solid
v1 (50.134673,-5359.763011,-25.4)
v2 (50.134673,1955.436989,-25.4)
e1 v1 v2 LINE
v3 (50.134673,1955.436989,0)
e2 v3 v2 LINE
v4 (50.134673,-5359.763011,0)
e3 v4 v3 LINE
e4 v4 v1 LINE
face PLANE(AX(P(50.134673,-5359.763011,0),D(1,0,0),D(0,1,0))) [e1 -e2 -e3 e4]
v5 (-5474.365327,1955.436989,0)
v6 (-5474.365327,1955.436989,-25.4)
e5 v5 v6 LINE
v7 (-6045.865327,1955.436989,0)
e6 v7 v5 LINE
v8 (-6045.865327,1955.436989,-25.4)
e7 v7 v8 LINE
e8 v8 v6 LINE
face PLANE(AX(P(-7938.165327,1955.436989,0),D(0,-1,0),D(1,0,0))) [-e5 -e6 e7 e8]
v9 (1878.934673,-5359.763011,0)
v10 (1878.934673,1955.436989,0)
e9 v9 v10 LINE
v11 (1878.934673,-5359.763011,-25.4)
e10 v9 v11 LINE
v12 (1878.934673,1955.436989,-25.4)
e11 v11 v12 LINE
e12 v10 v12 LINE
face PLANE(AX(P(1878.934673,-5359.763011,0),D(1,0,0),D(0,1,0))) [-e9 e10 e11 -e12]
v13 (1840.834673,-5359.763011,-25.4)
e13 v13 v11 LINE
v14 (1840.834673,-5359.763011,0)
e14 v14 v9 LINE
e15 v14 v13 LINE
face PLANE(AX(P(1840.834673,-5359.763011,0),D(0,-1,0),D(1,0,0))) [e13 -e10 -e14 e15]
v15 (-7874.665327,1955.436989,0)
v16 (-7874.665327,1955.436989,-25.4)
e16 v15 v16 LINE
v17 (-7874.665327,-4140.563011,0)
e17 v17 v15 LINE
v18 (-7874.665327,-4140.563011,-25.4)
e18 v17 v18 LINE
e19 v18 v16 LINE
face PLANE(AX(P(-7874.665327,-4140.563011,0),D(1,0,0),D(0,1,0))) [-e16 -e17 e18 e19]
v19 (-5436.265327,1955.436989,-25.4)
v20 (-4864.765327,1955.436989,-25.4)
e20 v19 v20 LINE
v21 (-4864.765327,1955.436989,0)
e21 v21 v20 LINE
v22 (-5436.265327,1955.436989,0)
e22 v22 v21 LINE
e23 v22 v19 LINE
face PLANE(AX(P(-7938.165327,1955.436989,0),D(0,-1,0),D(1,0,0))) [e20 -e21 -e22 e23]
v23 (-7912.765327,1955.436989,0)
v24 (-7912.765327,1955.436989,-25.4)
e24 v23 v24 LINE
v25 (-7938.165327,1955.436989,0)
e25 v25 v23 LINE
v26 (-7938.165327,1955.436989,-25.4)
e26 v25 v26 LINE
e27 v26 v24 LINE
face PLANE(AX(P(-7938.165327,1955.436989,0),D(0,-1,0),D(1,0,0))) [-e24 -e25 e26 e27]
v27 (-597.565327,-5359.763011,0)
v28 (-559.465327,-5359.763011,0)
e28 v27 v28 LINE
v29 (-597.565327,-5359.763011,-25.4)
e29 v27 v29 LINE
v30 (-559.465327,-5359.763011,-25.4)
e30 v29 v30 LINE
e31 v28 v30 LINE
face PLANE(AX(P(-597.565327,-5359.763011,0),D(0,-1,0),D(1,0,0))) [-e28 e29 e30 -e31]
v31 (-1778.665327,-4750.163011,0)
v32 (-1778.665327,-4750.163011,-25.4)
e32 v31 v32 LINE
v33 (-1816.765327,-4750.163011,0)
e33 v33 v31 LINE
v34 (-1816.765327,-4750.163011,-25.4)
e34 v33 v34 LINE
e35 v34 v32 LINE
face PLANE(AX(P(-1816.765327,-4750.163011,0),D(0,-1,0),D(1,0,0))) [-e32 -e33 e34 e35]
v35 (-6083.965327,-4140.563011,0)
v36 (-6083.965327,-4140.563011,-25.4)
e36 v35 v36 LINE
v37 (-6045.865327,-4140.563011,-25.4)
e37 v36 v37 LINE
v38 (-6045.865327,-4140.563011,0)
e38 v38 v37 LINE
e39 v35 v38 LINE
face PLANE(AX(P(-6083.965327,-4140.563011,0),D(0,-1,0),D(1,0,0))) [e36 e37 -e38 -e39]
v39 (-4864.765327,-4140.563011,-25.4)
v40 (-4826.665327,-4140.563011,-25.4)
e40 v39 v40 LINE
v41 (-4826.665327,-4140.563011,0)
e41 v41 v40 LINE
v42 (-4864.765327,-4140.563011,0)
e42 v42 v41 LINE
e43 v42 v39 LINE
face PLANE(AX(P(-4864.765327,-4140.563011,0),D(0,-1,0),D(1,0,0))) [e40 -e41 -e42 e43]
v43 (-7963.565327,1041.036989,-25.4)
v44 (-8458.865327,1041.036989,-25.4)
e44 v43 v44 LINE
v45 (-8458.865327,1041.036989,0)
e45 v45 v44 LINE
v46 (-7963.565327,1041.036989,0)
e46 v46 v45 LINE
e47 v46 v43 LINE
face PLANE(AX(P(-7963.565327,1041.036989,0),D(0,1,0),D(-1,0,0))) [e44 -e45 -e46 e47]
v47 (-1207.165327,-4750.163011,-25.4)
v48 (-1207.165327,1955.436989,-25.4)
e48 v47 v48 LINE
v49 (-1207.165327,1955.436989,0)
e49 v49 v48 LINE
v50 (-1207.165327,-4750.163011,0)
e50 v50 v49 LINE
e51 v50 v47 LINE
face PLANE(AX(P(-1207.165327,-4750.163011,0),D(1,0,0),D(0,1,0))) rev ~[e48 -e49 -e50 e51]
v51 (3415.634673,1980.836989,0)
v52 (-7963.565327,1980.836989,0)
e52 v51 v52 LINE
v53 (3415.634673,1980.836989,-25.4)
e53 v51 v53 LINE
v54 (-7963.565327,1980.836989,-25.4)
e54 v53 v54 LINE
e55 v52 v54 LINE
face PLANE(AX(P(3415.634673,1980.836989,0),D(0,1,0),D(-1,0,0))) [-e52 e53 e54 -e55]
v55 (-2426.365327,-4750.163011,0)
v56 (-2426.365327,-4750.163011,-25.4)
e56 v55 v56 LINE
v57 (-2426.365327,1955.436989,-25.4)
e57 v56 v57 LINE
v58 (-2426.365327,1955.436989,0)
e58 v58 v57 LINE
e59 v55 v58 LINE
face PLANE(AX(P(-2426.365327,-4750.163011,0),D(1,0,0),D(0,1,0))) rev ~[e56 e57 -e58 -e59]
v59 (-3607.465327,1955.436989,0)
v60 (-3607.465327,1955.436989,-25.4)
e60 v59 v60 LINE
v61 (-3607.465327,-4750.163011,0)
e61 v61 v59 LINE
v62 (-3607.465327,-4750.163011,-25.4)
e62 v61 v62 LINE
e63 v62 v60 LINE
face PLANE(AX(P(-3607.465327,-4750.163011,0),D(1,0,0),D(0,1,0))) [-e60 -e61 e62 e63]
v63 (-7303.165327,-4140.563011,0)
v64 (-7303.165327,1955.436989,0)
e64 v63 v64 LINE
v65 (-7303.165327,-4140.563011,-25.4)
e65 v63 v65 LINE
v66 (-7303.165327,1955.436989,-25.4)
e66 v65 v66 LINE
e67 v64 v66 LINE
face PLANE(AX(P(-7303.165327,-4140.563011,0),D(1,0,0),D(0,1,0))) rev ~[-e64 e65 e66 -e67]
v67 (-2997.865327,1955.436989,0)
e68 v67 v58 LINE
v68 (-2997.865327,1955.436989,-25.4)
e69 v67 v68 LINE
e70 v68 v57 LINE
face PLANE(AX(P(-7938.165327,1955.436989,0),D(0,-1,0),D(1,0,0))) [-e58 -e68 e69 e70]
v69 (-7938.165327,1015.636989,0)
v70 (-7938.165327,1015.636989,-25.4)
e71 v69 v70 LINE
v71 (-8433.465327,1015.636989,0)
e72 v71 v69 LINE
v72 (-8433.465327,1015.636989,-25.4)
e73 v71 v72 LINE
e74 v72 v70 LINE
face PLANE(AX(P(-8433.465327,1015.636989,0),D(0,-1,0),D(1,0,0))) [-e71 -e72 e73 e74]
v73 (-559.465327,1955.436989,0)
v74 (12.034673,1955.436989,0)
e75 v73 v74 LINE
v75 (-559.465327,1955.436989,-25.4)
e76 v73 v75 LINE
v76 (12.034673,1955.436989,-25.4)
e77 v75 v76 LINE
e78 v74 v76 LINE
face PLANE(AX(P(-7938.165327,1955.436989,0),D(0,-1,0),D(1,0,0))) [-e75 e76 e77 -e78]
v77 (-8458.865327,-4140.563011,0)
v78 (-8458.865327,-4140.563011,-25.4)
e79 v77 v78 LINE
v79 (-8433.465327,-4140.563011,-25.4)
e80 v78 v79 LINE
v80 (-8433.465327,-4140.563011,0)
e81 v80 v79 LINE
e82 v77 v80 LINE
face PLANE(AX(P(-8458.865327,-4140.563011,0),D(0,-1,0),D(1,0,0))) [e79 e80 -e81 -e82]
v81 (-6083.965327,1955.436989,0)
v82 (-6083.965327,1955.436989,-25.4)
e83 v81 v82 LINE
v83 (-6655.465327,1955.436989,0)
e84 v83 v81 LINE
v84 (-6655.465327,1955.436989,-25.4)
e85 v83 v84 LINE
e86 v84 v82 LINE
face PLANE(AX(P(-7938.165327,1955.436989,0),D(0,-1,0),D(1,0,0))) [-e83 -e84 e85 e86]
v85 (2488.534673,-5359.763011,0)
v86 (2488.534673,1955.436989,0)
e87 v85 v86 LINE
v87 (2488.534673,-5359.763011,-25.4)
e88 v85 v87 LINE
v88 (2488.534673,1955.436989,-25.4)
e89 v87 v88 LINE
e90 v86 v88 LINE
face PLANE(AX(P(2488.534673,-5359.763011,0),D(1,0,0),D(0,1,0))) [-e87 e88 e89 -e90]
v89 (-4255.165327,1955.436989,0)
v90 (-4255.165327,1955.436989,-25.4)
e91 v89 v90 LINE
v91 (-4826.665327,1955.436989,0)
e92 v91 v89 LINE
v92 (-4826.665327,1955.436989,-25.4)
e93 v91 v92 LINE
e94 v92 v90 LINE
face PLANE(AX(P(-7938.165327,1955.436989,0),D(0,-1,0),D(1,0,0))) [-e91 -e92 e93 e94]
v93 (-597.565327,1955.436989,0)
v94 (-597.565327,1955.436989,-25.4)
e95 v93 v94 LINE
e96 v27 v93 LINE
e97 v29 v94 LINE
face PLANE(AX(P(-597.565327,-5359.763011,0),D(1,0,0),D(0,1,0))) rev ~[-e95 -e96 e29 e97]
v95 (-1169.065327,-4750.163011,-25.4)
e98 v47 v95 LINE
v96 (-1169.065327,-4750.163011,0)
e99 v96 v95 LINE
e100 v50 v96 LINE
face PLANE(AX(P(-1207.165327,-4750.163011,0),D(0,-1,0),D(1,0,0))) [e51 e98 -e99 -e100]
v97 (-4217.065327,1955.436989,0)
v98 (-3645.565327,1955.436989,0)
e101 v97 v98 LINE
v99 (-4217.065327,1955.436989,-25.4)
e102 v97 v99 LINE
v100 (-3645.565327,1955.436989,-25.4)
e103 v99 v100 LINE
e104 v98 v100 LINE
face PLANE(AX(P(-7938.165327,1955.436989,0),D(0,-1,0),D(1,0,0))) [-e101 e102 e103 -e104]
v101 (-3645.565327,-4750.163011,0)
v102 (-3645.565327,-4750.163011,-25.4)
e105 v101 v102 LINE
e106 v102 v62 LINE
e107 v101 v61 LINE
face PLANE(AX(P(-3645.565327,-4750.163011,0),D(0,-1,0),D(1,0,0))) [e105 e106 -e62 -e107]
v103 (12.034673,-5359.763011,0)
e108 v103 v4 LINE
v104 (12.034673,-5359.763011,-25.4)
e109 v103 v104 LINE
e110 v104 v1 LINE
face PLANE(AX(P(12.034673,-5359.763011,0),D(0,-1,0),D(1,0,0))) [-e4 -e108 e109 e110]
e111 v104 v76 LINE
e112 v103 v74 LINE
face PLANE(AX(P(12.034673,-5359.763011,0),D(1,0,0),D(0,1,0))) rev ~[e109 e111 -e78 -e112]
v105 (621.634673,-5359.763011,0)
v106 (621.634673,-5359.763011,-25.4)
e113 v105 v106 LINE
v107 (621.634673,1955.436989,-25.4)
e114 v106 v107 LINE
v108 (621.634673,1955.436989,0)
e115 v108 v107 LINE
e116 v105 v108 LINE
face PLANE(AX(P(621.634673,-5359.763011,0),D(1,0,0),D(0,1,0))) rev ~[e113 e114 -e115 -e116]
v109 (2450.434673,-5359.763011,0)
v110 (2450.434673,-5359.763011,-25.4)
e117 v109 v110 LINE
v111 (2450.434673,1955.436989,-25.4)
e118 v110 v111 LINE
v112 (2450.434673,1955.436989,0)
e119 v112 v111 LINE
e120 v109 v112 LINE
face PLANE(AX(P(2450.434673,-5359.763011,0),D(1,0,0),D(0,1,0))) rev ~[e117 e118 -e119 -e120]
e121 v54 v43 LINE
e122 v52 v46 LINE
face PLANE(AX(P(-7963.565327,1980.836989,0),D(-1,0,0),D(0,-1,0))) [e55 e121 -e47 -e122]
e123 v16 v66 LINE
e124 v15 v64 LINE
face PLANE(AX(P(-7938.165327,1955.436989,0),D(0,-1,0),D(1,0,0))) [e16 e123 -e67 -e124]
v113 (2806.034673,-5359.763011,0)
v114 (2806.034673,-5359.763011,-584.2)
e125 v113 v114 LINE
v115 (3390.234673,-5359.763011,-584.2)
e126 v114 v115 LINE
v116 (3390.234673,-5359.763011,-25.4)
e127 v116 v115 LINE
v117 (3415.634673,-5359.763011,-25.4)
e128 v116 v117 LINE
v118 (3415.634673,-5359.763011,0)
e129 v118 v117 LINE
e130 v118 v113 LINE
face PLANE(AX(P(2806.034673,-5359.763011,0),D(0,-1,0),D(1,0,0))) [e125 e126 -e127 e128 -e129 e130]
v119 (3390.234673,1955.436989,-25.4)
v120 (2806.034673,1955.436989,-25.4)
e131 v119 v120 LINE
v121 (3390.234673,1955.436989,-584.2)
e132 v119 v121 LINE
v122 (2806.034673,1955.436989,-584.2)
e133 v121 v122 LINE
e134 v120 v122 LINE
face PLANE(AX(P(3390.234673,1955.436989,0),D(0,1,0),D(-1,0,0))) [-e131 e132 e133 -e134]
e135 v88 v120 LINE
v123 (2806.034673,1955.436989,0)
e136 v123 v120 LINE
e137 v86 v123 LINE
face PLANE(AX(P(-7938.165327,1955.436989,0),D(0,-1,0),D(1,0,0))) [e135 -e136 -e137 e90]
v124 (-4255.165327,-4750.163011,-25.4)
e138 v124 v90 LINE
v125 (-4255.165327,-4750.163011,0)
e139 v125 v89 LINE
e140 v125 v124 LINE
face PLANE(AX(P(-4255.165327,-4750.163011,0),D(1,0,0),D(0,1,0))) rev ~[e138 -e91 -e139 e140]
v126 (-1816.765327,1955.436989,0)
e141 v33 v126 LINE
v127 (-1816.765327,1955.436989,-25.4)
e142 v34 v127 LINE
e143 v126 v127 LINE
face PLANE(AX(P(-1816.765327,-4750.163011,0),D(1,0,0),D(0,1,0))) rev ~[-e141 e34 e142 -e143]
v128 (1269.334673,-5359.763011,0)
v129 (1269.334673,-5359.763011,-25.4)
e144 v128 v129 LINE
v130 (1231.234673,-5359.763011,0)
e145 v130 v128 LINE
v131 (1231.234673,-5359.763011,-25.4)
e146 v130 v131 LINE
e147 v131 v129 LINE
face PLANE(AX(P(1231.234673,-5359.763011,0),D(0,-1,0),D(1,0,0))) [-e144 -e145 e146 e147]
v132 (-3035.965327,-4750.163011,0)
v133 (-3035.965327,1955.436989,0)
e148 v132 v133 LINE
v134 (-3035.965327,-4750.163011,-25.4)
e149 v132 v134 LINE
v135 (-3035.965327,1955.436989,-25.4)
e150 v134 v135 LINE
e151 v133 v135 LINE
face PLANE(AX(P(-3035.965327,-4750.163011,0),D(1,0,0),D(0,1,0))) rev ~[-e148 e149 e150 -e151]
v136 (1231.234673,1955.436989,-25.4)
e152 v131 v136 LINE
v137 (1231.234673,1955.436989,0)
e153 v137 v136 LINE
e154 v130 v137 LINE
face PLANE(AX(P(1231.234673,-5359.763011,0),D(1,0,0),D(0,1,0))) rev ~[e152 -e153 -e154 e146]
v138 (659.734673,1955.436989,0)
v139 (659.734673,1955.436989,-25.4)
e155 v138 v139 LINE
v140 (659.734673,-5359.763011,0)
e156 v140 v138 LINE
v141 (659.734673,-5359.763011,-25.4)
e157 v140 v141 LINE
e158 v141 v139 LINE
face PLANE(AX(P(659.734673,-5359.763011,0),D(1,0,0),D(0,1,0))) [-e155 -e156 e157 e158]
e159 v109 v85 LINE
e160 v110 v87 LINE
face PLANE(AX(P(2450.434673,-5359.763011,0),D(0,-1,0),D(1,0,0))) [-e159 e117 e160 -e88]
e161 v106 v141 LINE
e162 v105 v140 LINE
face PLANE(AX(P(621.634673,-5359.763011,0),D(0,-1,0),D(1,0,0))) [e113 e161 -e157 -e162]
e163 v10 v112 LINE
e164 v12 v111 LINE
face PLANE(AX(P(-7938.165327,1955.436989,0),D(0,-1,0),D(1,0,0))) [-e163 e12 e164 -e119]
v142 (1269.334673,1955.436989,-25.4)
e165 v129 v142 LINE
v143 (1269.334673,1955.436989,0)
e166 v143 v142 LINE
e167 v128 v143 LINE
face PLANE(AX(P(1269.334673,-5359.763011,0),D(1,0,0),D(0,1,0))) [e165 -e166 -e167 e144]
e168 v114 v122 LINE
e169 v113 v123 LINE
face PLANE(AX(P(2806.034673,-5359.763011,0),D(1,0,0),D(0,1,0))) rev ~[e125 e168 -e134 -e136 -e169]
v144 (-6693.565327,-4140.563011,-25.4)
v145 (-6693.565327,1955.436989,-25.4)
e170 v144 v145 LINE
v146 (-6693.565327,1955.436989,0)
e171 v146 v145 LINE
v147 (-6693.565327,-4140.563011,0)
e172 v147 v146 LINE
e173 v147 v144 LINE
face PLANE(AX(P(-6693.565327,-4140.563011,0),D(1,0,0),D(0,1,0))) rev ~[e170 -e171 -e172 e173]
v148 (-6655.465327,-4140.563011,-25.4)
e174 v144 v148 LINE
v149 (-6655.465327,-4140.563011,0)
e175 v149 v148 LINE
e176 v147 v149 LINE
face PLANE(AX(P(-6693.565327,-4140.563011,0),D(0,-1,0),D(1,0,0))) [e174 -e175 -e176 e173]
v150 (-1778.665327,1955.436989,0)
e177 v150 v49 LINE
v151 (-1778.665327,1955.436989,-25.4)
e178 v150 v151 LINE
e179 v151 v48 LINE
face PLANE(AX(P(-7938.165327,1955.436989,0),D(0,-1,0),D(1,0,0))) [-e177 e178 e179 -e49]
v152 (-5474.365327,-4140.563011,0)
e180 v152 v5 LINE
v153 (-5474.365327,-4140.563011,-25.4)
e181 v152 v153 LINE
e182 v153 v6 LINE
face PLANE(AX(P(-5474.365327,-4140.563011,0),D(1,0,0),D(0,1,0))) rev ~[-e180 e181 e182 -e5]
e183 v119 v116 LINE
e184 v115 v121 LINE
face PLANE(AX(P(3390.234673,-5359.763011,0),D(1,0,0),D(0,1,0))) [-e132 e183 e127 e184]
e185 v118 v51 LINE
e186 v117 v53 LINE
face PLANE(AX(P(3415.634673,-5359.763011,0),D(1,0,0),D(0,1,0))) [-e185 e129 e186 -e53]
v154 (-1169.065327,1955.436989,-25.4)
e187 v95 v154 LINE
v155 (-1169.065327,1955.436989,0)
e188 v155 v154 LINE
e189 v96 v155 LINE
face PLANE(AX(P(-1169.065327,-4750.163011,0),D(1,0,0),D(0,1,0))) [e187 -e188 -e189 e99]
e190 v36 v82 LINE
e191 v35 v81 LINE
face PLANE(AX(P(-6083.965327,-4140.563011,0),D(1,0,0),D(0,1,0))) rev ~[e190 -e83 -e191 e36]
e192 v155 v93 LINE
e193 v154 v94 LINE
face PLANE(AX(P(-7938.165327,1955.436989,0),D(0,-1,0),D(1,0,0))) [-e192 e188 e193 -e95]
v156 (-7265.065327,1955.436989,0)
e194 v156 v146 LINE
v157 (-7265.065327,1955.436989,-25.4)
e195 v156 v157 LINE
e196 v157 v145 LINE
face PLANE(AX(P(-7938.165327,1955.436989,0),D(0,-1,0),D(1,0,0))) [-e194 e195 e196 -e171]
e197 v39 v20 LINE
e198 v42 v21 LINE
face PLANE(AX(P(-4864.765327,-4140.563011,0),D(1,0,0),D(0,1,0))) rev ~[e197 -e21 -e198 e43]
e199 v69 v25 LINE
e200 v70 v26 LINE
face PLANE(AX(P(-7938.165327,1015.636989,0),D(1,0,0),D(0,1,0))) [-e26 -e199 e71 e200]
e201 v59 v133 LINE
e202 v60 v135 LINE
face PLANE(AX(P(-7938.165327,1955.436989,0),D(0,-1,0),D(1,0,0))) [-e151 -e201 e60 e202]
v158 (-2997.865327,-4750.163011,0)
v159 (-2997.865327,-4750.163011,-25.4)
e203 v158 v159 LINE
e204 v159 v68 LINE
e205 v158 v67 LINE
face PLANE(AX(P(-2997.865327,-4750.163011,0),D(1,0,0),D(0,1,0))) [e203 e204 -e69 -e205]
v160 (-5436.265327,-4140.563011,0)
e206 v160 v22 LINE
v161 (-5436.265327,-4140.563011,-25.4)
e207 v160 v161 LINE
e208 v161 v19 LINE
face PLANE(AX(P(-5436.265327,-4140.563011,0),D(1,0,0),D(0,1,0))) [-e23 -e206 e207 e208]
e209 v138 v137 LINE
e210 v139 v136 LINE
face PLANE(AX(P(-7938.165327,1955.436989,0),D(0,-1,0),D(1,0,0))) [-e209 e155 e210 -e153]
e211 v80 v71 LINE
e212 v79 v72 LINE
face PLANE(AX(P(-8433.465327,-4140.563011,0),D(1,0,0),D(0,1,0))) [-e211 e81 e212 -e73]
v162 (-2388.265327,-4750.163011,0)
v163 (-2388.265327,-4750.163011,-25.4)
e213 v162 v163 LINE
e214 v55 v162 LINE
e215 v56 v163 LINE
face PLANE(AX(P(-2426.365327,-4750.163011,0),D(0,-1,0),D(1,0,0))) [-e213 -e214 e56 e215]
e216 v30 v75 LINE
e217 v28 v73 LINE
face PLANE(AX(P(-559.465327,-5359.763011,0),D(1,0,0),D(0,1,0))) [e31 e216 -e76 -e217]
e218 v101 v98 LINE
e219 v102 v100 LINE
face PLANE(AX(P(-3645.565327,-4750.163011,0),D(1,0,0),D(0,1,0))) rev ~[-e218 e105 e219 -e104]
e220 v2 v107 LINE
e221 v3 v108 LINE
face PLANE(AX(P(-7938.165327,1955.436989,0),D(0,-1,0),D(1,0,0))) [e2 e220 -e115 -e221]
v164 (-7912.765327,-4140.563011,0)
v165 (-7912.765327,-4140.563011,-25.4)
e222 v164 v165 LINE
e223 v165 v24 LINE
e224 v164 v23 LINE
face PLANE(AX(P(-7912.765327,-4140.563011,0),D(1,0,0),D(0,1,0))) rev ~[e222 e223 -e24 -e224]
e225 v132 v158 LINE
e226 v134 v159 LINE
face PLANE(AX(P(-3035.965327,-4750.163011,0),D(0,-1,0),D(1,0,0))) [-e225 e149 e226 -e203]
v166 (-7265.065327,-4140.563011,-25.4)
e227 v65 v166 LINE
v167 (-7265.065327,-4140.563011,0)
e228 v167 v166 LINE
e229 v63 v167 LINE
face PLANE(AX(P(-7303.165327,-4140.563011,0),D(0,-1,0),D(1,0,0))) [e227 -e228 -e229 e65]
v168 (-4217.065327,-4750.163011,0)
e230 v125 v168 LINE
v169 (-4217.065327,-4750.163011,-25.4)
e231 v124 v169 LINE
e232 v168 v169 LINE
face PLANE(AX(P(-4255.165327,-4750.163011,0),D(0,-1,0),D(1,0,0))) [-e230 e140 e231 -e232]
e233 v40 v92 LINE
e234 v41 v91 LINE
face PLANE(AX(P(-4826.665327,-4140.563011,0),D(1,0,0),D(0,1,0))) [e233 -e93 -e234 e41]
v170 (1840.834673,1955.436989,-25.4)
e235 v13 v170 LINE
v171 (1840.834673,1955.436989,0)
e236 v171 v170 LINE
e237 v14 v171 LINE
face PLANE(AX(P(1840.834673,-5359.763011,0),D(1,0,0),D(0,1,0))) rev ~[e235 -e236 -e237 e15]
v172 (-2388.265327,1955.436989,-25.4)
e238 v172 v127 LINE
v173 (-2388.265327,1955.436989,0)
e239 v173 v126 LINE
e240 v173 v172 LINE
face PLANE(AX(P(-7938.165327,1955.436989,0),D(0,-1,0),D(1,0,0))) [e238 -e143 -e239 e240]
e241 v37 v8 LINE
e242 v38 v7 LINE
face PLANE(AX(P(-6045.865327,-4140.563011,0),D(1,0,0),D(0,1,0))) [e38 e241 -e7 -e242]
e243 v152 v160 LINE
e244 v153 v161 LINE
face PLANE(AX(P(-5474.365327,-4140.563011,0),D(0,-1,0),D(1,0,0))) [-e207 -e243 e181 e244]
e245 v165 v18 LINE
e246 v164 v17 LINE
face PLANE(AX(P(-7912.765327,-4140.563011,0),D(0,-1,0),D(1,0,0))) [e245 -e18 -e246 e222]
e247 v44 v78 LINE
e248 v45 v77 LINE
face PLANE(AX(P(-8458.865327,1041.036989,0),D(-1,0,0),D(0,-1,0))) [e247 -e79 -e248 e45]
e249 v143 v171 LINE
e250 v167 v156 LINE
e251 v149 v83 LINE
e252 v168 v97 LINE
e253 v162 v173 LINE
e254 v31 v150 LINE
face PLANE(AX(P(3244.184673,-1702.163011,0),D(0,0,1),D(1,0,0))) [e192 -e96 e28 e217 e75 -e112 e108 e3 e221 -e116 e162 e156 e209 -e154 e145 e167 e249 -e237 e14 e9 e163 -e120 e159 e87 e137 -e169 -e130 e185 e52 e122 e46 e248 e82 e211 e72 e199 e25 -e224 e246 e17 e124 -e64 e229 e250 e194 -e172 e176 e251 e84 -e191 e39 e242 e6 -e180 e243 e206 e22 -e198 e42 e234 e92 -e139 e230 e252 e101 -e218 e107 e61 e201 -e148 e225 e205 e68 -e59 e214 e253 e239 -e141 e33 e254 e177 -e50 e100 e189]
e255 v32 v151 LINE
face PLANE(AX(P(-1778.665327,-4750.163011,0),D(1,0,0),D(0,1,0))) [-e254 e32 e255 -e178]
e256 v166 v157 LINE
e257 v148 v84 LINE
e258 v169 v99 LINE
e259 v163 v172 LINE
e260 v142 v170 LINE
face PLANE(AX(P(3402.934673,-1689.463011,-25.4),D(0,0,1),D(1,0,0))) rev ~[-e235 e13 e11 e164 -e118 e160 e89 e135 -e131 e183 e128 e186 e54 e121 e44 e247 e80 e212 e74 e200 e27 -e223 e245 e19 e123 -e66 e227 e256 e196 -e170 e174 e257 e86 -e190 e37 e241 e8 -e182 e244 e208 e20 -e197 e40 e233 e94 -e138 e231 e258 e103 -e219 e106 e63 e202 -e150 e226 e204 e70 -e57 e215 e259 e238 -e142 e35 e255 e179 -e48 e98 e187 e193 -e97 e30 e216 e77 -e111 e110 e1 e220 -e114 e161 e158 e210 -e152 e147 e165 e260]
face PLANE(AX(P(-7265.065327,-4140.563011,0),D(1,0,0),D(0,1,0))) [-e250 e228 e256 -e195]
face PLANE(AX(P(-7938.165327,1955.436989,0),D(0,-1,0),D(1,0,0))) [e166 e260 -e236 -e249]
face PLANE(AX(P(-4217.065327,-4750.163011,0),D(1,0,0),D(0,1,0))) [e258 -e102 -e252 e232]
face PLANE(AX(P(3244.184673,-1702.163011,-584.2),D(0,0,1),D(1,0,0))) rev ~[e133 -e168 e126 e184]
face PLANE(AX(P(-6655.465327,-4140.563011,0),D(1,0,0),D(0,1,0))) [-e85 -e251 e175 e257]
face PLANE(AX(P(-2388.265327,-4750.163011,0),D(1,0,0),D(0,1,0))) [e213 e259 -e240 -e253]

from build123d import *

# Parameters (mm, degrees)
F0_W     = 25.4
F0_H     = 914.4
F0_H_2   = 5156.2
F1_DEPTH = 25.4
F0_W_2   = 38.1
F0_H_3   = 6096
F0_H_4   = 6705.6
F0_H_5   = 7315.2
F2_DEPTH = 25.4
F0_W_3   = 292.1
F0_W_4   = 254
F3_DEPTH = 584.2


with BuildPart() as f1:
    # F0 (on Top) → F1 (new body)
    with BuildSketch(Plane.XY):
        Polygon((3415.6346725464, 1980.8369888306), (3390.2346725464, 1980.8369888306), (3390.2346725464, 1955.4369888306), (3390.2346725464, -5359.7630111694), (3415.6346725464, -5359.7630111694), align=None)
        Polygon((-7963.5653274536, 1955.4369888306), (-7938.1653274536, 1955.4369888306), (-7912.7653274536, 1955.4369888306), (-7874.6653274536, 1955.4369888306), (-7303.1653274536, 1955.4369888306), (-7265.0653274536, 1955.4369888306), (-6693.5653274536, 1955.4369888306), (-6655.4653274536, 1955.4369888306), (-6083.9653274536, 1955.4369888306), (-6045.8653274536, 1955.4369888306), (-5474.3653274536, 1955.4369888306), (-5436.2653274536, 1955.4369888306), (-4864.7653274536, 1955.4369888306), (-4826.6653274536, 1955.4369888306), (-4255.1653274536, 1955.4369888306), (-4217.0653274536, 1955.4369888306), (-3645.5653274536, 1955.4369888306), (-3607.4653274536, 1955.4369888306), (-3035.9653274536, 1955.4369888306), (-2997.8653274536, 1955.4369888306), (-2426.3653274536, 1955.4369888306), (-2388.2653274536, 1955.4369888306), (-1816.7653274536, 1955.4369888306), (-1778.6653274536, 1955.4369888306), (-1207.1653274536, 1955.4369888306), (-1169.0653274536, 1955.4369888306), (-597.5653274536, 1955.4369888306), (-559.4653274536, 1955.4369888306), (12.0346725464, 1955.4369888306), (50.1346725464, 1955.4369888306), (621.6346725464, 1955.4369888306), (659.7346725464, 1955.4369888306), (1231.2346725464, 1955.4369888306), (1269.3346725464, 1955.4369888306), (1840.8346725464, 1955.4369888306), (1878.9346725464, 1955.4369888306), (2450.4346725464, 1955.4369888306), (2488.5346725464, 1955.4369888306), (2806.0346725464, 1955.4369888306), (3060.0346725464, 1955.4369888306), (3098.1346725464, 1955.4369888306), (3390.2346725464, 1955.4369888306), (3390.2346725464, 1980.8369888306), (-7963.5653274536, 1980.8369888306), align=None)
        with Locations((-7950.8653274536, 1498.2369888306)):
            Rectangle(F0_W, F0_H)
        Polygon((-7938.1653274536, 1015.6369888306), (-7938.1653274536, 1041.0369888306), (-7963.5653274536, 1041.0369888306), (-8458.8653274536, 1041.0369888306), (-8458.8653274536, 1015.6369888306), (-8433.4653274536, 1015.6369888306), align=None)
        with Locations((-8446.1653274536, -1562.4630111694)):
            Rectangle(F0_W, F0_H_2)
    extrude(amount=-F1_DEPTH)

    # F0 (on Top) → F2 (join)
    with BuildSketch(Plane.XY):
        with Locations((-7284.1153274536, -1092.5630111694)):
            Rectangle(F0_W_2, F0_H_3)
        with Locations((-6674.5153274536, -1092.5630111694)):
            Rectangle(F0_W_2, F0_H_3)
        with Locations((-6064.9153274536, -1092.5630111694)):
            Rectangle(F0_W_2, F0_H_3)
        with Locations((-5455.3153274536, -1092.5630111694)):
            Rectangle(F0_W_2, F0_H_3)
        with Locations((-4845.7153274536, -1092.5630111694)):
            Rectangle(F0_W_2, F0_H_3)
        with Locations((-4236.1153274536, -1397.3630111694)):
            Rectangle(F0_W_2, F0_H_4)
        with Locations((-3626.5153274536, -1397.3630111694)):
            Rectangle(F0_W_2, F0_H_4)
        with Locations((-3016.9153274536, -1397.3630111694)):
            Rectangle(F0_W_2, F0_H_4)
        with Locations((-2407.3153274536, -1397.3630111694)):
            Rectangle(F0_W_2, F0_H_4)
        with Locations((-7893.7153274536, -1092.5630111694)):
            Rectangle(F0_W_2, F0_H_3)
        with Locations((-1797.7153274536, -1397.3630111694)):
            Rectangle(F0_W_2, F0_H_4)
        with Locations((-1188.1153274536, -1397.3630111694)):
            Rectangle(F0_W_2, F0_H_4)
        with Locations((-578.5153274536, -1702.1630111694)):
            Rectangle(F0_W_2, F0_H_5)
        with Locations((31.0846725464, -1702.1630111694)):
            Rectangle(F0_W_2, F0_H_5)
        with Locations((640.6846725464, -1702.1630111694)):
            Rectangle(F0_W_2, F0_H_5)
        with Locations((1250.2846725464, -1702.1630111694)):
            Rectangle(F0_W_2, F0_H_5)
        with Locations((1859.8846725464, -1702.1630111694)):
            Rectangle(F0_W_2, F0_H_5)
        with Locations((2469.4846725464, -1702.1630111694)):
            Rectangle(F0_W_2, F0_H_5)
        with Locations((3079.0846725464, -1702.1630111694)):
            Rectangle(F0_W_2, F0_H_5)
    extrude(amount=-F2_DEPTH)

    # F0 (on Top) → F3 (join)
    with BuildSketch(Plane.XY):
        with Locations((3244.1846725464, -1702.1630111694)):
            Rectangle(F0_W_3, F0_H_5)
        with Locations((2933.0346725464, -1702.1630111694)):
            Rectangle(F0_W_4, F0_H_5)
        with Locations((3079.0846725464, -1702.1630111694)):
            Rectangle(F0_W_2, F0_H_5)
    extrude(amount=-F3_DEPTH)


solid = f1.part
